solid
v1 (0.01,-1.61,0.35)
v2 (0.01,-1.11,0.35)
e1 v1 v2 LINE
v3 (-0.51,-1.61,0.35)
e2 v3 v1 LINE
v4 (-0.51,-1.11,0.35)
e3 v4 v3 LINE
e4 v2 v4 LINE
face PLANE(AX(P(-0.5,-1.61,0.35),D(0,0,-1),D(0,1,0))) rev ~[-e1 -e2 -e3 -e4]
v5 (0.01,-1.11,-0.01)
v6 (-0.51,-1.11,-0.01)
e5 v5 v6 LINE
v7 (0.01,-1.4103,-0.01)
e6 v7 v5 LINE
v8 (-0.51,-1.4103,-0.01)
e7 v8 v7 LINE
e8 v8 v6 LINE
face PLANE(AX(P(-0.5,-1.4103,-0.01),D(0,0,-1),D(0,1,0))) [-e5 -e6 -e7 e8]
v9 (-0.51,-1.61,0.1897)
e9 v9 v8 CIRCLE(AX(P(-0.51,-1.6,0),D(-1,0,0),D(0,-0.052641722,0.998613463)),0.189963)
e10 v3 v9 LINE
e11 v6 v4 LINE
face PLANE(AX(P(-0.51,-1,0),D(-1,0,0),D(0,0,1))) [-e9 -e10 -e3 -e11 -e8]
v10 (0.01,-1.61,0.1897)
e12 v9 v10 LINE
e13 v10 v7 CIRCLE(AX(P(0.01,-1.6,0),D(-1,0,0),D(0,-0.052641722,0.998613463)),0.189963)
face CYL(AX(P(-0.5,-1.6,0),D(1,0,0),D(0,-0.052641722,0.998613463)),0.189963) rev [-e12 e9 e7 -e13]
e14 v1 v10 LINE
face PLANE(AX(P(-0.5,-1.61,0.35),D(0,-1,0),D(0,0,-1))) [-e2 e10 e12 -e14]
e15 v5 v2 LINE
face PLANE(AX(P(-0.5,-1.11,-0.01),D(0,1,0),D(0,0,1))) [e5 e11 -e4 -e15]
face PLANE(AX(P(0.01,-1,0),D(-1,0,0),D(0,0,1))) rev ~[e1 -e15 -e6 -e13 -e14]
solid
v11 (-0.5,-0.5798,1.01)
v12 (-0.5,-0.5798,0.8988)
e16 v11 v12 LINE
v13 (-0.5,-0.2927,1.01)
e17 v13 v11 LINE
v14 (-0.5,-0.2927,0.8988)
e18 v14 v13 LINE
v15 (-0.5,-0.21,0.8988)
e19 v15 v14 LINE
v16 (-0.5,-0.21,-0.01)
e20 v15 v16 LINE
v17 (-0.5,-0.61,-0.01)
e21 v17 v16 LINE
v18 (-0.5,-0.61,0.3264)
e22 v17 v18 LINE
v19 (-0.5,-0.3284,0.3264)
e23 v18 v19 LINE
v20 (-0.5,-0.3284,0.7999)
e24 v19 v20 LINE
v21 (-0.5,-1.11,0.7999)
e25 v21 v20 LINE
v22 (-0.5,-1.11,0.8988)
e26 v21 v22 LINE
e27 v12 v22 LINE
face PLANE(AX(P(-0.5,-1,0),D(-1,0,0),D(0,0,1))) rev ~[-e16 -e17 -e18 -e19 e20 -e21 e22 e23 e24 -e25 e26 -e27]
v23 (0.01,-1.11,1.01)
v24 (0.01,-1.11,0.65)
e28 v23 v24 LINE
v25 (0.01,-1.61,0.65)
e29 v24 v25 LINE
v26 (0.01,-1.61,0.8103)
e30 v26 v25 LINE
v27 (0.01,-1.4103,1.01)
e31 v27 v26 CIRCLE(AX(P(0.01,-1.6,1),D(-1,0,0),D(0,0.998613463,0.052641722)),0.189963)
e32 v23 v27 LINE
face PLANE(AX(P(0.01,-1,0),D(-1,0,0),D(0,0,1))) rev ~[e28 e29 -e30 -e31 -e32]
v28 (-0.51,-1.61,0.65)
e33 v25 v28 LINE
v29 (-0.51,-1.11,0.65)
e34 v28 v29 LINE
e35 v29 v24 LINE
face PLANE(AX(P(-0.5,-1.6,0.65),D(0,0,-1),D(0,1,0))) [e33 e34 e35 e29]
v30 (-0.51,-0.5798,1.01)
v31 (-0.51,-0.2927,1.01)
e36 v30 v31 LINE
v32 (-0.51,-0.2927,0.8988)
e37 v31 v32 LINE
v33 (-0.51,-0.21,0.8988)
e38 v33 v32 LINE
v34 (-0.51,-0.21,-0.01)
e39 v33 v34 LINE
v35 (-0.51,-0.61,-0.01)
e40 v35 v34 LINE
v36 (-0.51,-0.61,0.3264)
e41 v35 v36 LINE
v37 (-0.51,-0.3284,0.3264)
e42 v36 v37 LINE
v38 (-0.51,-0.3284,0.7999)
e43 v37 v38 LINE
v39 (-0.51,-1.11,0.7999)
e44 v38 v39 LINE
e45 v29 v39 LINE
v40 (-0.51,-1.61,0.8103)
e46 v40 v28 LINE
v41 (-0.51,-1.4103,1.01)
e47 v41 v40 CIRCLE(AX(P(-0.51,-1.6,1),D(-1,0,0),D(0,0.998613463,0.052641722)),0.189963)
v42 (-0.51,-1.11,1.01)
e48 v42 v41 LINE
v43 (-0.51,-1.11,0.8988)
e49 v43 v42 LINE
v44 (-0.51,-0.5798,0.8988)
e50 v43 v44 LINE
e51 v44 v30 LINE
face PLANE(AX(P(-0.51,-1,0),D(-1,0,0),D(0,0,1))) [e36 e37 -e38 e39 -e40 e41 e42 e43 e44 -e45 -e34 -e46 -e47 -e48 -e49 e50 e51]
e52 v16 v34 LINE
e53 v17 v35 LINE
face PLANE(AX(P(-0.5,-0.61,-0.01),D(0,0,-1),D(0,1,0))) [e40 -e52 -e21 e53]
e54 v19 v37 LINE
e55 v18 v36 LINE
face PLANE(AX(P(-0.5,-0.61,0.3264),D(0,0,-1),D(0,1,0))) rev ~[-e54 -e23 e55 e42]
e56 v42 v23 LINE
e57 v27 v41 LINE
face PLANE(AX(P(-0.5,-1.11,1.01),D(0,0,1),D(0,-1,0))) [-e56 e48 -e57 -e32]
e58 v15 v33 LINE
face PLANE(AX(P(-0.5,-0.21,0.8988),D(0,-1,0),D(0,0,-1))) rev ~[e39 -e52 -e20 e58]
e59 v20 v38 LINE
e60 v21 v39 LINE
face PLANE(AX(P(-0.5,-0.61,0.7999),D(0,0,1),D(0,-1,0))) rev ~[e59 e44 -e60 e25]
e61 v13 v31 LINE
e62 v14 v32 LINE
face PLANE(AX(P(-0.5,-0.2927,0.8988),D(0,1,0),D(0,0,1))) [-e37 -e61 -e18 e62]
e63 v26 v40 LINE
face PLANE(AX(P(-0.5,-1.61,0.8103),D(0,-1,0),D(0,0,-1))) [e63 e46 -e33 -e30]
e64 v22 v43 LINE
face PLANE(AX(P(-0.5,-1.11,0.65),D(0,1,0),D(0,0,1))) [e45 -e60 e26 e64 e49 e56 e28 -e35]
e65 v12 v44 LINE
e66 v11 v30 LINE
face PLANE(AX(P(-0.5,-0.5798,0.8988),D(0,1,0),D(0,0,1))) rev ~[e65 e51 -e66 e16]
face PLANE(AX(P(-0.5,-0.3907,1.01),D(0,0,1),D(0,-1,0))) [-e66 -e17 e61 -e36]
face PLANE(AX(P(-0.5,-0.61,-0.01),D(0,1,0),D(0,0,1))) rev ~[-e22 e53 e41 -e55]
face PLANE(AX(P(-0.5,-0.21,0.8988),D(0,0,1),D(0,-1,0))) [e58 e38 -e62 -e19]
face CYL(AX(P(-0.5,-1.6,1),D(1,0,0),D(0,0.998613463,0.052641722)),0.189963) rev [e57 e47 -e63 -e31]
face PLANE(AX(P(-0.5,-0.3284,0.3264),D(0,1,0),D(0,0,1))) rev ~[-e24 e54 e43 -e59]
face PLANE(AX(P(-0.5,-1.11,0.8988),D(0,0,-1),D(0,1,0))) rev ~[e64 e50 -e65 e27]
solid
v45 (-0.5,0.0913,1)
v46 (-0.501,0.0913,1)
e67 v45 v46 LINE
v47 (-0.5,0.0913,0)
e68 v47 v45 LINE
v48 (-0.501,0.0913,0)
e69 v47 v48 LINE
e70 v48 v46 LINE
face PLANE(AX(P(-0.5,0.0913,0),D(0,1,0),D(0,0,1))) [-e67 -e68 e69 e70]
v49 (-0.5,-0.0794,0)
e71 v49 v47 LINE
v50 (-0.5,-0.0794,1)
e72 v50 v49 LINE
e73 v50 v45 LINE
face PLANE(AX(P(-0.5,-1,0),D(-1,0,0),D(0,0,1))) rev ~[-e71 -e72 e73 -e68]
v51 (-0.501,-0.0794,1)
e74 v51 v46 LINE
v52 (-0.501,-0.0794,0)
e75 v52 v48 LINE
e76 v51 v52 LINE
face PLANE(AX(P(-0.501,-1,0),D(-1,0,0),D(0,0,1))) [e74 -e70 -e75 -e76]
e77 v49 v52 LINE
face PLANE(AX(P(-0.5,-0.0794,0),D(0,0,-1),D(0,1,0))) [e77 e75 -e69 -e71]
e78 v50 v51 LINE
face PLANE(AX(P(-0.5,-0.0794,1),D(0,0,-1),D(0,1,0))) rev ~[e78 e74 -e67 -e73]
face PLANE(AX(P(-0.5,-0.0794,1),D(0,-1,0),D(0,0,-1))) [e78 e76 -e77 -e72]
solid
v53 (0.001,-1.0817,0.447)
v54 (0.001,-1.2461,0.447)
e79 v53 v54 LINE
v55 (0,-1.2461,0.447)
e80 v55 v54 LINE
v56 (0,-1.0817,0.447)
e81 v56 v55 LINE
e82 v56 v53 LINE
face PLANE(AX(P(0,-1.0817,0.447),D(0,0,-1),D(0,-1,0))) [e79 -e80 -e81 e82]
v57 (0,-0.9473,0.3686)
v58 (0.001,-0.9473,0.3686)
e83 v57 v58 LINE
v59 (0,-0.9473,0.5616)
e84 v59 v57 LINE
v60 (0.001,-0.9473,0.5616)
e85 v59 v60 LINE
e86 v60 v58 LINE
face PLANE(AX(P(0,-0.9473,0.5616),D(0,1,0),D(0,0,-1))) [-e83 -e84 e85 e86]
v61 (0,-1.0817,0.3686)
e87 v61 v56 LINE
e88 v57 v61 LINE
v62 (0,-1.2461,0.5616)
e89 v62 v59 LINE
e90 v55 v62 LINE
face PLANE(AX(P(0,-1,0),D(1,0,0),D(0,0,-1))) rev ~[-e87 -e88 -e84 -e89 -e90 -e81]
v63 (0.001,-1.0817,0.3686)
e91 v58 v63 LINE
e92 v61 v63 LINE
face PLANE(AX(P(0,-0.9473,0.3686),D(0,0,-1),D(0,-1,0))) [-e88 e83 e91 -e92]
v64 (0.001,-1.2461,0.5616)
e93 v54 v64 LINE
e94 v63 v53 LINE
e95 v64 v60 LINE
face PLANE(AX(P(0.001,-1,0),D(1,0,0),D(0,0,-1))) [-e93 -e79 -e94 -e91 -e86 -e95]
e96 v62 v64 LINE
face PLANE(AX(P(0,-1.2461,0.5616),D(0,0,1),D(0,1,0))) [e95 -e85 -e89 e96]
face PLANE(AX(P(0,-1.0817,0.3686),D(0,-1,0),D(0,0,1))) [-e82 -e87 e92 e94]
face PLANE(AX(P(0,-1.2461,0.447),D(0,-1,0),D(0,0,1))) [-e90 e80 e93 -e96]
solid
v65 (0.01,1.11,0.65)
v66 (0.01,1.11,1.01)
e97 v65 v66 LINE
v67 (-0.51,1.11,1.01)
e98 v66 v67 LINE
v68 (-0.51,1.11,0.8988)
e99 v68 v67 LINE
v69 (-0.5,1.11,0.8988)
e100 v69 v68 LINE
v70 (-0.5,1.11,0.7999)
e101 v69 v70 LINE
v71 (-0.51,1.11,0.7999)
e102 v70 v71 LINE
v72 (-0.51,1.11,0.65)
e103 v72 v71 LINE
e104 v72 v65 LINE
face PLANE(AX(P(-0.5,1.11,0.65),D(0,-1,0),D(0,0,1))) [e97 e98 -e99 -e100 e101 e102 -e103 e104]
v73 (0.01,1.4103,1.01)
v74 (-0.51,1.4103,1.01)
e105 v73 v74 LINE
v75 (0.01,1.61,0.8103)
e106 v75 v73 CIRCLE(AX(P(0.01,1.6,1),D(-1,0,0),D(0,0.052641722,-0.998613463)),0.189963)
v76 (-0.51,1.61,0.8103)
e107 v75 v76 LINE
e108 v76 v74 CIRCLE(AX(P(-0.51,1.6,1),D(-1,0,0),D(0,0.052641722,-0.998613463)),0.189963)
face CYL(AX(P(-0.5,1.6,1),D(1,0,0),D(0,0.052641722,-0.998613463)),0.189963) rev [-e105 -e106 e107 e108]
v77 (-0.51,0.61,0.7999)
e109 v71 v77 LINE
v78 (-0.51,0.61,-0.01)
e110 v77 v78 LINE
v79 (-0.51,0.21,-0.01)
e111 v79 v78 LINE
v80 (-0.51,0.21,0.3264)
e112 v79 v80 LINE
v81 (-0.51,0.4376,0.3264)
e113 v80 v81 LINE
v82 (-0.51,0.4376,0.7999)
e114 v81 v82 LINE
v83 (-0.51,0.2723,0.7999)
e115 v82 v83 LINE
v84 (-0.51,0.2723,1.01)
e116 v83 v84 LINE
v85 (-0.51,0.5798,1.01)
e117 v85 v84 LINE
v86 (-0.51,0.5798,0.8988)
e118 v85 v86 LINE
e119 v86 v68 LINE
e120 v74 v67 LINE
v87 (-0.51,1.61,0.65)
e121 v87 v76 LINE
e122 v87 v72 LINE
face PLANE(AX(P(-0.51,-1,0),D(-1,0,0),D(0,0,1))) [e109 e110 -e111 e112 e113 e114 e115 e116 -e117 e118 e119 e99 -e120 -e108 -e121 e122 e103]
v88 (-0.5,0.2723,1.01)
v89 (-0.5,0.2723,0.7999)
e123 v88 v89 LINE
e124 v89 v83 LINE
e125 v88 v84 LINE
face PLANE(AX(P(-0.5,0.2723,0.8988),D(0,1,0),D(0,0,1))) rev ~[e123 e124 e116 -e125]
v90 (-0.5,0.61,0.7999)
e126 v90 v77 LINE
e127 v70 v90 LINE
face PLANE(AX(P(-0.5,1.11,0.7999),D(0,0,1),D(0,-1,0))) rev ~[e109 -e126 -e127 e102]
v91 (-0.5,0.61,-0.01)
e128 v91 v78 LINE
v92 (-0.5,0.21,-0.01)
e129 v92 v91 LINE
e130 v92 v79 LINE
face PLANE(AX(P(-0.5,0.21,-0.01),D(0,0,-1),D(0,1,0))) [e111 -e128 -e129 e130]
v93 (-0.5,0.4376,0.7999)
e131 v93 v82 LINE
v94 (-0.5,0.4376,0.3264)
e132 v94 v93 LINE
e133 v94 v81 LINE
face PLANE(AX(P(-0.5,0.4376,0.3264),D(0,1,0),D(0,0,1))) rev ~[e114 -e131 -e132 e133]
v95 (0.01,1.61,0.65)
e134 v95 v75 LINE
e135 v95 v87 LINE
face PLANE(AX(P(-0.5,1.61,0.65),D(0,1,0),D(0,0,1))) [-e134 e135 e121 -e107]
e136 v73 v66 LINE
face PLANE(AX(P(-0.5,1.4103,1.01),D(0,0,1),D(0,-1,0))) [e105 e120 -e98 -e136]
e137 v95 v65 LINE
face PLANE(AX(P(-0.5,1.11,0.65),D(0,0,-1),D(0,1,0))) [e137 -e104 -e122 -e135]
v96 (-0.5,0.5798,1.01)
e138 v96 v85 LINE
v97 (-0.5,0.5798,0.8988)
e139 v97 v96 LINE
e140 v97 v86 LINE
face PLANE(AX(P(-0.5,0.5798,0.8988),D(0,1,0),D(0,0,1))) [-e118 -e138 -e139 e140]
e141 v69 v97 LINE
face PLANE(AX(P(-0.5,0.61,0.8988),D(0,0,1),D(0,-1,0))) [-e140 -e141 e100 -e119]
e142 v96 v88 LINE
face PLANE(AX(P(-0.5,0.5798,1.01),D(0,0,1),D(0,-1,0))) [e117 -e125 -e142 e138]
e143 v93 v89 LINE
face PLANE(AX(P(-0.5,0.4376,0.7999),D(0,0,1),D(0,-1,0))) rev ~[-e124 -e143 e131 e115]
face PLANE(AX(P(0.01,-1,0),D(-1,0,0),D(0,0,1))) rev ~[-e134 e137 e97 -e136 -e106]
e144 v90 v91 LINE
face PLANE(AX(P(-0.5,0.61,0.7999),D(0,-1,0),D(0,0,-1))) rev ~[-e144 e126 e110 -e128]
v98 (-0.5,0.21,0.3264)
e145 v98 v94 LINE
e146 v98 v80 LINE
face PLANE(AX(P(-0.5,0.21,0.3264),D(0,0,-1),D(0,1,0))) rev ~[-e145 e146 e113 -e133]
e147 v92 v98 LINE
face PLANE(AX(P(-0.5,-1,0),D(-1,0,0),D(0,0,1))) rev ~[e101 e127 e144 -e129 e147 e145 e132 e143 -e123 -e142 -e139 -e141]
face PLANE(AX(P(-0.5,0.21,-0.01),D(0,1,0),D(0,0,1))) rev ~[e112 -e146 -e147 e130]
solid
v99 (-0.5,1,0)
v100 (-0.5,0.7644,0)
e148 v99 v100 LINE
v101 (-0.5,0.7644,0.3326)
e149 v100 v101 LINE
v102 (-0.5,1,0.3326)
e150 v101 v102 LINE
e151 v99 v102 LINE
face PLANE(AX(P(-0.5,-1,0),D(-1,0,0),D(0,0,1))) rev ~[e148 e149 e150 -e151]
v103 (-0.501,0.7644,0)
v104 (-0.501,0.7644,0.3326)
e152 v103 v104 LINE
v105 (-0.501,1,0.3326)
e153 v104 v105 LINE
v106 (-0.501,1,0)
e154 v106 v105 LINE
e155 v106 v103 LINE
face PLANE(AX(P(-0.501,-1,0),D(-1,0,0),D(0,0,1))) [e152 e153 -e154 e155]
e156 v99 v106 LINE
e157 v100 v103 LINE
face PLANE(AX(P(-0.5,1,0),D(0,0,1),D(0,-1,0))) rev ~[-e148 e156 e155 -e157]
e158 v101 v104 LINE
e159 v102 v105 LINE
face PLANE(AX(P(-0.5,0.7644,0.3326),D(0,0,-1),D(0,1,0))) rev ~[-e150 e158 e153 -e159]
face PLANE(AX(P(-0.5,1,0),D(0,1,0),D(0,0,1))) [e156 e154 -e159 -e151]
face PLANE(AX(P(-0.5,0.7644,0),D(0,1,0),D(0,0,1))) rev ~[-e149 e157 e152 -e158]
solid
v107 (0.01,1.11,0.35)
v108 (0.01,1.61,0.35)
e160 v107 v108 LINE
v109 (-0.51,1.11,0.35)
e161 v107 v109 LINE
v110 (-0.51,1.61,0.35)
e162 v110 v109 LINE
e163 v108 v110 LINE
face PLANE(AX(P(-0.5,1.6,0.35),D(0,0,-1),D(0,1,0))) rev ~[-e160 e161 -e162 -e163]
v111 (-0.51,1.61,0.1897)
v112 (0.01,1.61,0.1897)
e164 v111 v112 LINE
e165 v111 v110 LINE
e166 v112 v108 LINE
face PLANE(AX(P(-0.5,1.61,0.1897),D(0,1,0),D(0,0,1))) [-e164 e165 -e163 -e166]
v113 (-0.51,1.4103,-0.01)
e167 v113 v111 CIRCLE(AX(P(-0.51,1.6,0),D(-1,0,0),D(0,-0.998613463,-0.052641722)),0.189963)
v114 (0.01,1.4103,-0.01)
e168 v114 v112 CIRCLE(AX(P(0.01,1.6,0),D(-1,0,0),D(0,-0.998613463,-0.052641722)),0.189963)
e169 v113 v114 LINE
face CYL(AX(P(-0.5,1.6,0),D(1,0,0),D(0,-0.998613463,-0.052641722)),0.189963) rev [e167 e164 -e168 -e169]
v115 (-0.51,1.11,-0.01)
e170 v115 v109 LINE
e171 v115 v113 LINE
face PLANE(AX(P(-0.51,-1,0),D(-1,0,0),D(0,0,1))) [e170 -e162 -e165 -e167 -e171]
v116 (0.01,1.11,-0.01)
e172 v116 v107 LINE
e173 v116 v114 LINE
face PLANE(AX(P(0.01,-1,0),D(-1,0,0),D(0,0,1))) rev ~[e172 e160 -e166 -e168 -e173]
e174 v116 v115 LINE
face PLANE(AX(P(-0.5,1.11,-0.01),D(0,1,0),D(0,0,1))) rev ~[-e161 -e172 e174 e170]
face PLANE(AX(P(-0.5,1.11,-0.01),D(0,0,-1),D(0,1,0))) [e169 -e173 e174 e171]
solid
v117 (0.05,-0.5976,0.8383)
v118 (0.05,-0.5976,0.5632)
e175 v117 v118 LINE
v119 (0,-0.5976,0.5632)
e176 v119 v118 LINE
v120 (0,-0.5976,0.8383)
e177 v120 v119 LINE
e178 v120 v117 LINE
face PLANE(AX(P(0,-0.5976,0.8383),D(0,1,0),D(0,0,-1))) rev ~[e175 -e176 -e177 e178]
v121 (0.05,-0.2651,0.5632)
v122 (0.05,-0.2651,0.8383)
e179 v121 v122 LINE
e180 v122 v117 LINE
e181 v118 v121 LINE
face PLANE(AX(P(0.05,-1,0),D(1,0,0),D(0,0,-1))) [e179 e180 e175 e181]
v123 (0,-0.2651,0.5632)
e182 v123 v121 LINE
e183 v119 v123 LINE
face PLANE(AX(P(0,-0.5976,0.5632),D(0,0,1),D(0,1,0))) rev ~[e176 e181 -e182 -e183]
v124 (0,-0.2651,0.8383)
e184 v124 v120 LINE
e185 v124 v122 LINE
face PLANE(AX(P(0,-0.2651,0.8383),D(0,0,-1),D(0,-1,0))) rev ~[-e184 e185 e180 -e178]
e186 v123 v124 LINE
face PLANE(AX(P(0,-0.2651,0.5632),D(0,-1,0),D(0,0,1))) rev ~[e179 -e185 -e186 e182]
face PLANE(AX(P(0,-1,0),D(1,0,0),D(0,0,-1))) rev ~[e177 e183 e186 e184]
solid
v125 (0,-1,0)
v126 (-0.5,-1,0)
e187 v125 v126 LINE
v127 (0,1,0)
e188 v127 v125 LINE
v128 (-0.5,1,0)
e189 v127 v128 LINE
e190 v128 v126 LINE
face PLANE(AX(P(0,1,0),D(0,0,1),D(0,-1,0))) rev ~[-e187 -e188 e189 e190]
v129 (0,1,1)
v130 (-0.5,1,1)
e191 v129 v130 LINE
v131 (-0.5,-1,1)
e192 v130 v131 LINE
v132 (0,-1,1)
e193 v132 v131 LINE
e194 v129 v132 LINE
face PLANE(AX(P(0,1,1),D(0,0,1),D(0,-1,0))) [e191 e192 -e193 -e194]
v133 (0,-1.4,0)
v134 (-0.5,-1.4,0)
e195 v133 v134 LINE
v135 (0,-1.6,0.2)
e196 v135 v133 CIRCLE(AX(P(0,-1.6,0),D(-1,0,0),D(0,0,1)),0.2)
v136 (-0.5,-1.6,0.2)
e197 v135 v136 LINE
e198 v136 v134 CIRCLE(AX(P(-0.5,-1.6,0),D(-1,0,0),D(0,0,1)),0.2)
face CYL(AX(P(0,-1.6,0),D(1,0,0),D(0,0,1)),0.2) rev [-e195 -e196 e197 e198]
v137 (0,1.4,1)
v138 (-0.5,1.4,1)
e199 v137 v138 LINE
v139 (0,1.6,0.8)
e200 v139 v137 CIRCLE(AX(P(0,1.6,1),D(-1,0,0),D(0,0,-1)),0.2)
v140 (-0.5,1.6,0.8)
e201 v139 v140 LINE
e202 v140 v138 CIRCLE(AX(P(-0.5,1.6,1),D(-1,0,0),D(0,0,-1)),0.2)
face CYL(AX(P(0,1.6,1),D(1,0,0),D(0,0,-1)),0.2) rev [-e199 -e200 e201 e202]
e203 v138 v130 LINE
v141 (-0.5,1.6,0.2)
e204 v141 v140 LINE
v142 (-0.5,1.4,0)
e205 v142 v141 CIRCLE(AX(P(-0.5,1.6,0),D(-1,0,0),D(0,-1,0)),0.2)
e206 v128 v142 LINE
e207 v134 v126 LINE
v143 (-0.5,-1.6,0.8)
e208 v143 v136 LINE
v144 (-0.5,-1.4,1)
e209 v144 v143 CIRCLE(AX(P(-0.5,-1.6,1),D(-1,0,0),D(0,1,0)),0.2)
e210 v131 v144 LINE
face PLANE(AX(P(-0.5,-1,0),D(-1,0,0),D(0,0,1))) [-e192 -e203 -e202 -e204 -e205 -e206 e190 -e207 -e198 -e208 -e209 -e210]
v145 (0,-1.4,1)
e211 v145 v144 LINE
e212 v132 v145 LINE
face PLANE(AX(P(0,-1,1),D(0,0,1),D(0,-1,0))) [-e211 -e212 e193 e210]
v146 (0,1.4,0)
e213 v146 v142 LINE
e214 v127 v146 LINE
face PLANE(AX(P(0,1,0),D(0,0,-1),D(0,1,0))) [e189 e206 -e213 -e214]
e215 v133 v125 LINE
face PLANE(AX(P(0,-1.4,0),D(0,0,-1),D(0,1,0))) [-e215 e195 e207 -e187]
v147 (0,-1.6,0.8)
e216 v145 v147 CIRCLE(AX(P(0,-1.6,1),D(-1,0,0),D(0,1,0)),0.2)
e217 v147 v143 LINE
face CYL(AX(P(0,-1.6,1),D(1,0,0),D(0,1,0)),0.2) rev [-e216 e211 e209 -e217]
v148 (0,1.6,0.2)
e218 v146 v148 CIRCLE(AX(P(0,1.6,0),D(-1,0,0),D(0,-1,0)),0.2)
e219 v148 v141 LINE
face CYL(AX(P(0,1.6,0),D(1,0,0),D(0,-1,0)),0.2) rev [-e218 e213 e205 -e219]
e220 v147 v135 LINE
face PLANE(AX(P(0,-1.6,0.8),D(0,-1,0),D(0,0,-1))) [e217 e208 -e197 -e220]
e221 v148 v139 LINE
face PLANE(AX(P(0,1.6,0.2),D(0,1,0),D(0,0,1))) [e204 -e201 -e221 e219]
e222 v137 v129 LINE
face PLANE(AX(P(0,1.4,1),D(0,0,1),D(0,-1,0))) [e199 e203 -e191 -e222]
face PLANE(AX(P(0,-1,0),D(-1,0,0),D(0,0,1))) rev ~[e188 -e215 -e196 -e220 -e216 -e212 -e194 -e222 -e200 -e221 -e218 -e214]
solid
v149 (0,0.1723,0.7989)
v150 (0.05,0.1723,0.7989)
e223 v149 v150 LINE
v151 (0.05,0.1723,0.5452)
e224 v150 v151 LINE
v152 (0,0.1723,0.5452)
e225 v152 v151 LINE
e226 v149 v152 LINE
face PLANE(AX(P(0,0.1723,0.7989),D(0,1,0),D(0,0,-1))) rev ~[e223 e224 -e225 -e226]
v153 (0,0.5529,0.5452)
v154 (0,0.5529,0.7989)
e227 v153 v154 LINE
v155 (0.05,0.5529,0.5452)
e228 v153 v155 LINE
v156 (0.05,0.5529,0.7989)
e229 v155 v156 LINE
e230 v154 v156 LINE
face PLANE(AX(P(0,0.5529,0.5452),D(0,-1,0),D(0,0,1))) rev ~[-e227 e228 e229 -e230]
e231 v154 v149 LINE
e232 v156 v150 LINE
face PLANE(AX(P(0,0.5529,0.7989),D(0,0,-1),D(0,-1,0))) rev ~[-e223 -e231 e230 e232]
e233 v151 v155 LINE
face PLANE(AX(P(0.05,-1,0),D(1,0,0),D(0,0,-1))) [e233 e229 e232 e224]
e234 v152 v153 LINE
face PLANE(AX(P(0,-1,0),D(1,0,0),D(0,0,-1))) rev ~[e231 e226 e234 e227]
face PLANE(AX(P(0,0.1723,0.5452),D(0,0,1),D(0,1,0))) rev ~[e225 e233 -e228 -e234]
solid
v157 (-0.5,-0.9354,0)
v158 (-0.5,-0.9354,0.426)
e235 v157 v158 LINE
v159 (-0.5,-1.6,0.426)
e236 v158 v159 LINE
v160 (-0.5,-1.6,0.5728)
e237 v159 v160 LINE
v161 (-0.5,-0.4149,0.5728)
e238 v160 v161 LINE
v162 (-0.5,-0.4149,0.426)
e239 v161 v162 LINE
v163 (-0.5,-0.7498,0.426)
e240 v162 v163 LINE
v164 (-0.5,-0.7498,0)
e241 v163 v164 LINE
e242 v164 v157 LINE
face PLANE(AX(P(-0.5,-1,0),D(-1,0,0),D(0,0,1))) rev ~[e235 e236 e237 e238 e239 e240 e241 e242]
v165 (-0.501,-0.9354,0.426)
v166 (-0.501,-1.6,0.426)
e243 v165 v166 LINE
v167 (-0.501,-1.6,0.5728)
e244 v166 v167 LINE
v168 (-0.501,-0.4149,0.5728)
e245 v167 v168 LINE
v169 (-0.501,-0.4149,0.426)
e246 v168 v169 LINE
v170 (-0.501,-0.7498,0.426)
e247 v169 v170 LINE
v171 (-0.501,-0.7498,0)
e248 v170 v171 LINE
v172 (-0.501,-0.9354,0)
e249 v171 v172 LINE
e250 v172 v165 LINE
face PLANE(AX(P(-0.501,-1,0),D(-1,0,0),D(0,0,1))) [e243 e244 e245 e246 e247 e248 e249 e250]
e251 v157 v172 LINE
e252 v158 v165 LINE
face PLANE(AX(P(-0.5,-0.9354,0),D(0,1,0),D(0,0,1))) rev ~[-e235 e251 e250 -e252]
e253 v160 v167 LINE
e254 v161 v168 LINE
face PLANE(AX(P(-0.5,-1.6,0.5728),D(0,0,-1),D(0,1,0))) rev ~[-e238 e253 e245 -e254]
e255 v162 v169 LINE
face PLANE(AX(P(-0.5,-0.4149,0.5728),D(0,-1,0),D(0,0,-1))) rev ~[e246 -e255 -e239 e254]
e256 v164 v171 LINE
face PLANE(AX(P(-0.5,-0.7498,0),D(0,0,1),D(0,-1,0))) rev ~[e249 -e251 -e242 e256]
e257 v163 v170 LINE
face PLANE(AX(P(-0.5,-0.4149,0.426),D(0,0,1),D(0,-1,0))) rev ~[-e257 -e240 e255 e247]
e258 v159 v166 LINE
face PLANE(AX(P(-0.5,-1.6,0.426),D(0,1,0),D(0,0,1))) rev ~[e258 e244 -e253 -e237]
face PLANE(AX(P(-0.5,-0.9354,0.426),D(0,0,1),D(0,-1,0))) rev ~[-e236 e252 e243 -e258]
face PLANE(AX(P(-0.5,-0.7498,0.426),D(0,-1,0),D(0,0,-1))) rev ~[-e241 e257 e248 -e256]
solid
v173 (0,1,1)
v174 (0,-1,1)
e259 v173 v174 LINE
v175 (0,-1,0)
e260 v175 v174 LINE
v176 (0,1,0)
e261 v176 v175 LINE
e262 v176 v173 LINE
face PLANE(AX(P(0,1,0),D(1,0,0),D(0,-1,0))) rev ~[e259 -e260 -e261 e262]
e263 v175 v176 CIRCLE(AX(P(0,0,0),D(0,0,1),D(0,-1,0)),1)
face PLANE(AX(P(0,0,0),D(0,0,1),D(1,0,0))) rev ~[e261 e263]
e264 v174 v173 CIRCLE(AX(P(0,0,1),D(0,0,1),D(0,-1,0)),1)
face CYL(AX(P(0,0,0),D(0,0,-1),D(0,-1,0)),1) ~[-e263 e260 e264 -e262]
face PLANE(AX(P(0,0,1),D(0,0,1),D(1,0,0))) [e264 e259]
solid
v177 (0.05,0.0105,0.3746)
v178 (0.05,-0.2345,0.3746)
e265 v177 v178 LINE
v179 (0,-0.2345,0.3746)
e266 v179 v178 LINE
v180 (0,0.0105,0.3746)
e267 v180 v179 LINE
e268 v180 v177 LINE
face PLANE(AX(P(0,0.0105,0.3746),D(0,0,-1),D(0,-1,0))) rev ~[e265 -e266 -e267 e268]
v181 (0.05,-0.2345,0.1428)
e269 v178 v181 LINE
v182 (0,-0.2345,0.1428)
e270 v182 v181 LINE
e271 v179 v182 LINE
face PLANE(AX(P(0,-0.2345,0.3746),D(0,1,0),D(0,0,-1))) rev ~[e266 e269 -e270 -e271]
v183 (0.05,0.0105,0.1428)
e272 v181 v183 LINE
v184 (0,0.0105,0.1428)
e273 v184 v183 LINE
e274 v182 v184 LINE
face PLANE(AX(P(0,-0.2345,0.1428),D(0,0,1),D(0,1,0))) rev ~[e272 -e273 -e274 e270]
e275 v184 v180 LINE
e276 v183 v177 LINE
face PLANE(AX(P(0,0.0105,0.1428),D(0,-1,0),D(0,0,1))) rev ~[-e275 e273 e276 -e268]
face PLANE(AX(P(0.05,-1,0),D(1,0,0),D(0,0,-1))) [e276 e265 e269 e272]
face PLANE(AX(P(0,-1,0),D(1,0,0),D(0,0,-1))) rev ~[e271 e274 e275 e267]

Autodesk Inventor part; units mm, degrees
ref_plane "YZ Plane" through (0, 0, 0) normal (1, 0, 0) x (0, 1, 0)
ref_plane "XZ Plane" through (0, 0, 0) normal (0, 1, 0) x (-1, 0, 0)
ref_plane "XY Plane" through (0, 0, 0) normal (0, 0, 1) x (1, 0, 0)
sketch "Sketch1" plane through (0, 0, 0) normal (0, 0, 1) x (1, 0, 0)
  arc A0 (0, -1) -> (0, 1) centre (0, 0) ccw
  line L0 (0, 0) -> (0, 1) construction
  line L1 (0, 0) -> (1, 0) construction
  line L2 (0, 0) -> (0, -1) construction
  line L3 (0, 1) -> (0, -1)
  dimension "d0" = 1
  dimension "d1" = 90
  dimension "d2" = 180
extrude "Extrusion1" add sketch "Sketch1" along normal blind 1
sketch "Sketch2" plane through (0, -1, 0) normal (-1, 0, 0) x (0, 0, 1)
  line L0 (0, 2.6) -> (1, 2.6)
  line L1 (1, 2.6) -> (1, -0.6)
  line L2 (1, -0.6) -> (0, -0.6)
  line L3 (0, -0.6) -> (0, 2.6)
  line L4 (0, 2) -> (0, 0) projected
  line L5 (1, 2) -> (1, 0) projected
  arc A0 (0, 2.4) -> (0.2, 2.6) centre (0, 2.6) ccw
  arc A1 (0.8, 2.6) -> (1, 2.4) centre (1, 2.6) ccw
  arc A2 (1, -0.4) -> (0.8, -0.6) centre (1, -0.6) ccw
  arc A3 (0.2, -0.6) -> (0, -0.4) centre (0, -0.6) ccw
  point P0 (0, 1)
  point P1 (1, 1)
  point P2 (1, 1)
  dimension "d5" = 3.2
  dimension "d6" = 0.2
extrude "Extrusion2" add sketch "Sketch2" along normal blind 0.5 separate body contours L0 A1 L1 A2 L2 A3 L3 A0
sketch "Sketch3" plane through (-0.5, -1, 0) normal (-1, 0, 0) x (0, 0, 1)
  line L0 (0, 2.4) -> (0, -0.4) construction
  arc A0 (0.2, -0.6) -> (0, -0.4) centre (0, -0.6) ccw projected
  line L1 (0.2, -0.6) -> (0.8, -0.6) projected
  arc A1 (1, -0.4) -> (0.8, -0.6) centre (1, -0.6) ccw projected
  line L2 (1, -0.4) -> (1, 2.4) construction
  arc A2 (0.8, 2.6) -> (1, 2.4) centre (1, 2.6) ccw projected
  line L3 (0.8, 2.6) -> (0.2, 2.6) projected
  arc A3 (0, 2.4) -> (0.2, 2.6) centre (0, 2.6) ccw projected
  line L4 (1.01, 2.4103) -> (1.01, -0.4103)
  arc A4 (1.01, -0.4103) -> (0.8103, -0.61) centre (1, -0.6) ccw
  line L5 (0.8103, -0.61) -> (0.1897, -0.61)
  arc A5 (0.1897, -0.61) -> (-0.01, -0.4103) centre (0, -0.6) ccw
  line L6 (-0.01, -0.4103) -> (-0.01, 2.4103)
  arc A6 (-0.01, 2.4103) -> (0.1897, 2.61) centre (0, 2.6) ccw
  line L7 (0.1897, 2.61) -> (0.8103, 2.61)
  arc A7 (0.8103, 2.61) -> (1.01, 2.4103) centre (1, 2.6) ccw
  line L8 (-0.01, 2.11) -> (1.01, 2.11)
  line L9 (-0.01, -0.11) -> (1.01, -0.11)
  line L10 (0.35, -0.61) -> (0.35, -0.11)
  line L11 (0.65, -0.61) -> (0.65, -0.11)
  line L12 (0.35, 2.11) -> (0.35, 2.61)
  line L13 (0.65, 2.11) -> (0.65, 2.61)
  line L14 (-0.01, 0.39) -> (1.01, 0.39)
  line L15 (1.01, 0.39) -> (1.01, 0.79)
  line L16 (1.01, 0.79) -> (-0.01, 0.79)
  line L17 (-0.01, 0.79) -> (-0.01, 0.39)
  line L18 (-0.01, 1.21) -> (1.01, 1.21)
  line L19 (1.01, 1.21) -> (1.01, 1.61)
  line L20 (1.01, 1.61) -> (-0.01, 1.61)
  line L21 (-0.01, 1.61) -> (-0.01, 1.21)
  line L22 (0.3264, 0.39) -> (0.3264, 0.6716)
  line L23 (0.3264, 0.6716) -> (1, 0.6716)
  line L24 (1, 0) -> (1, 2) projected
  line L25 (0.7999, 0.39) -> (0.7999, -0.11)
  line L26 (0.8988, -0.11) -> (0.8988, 0.39)
  line L27 (0.8988, 0.6716) -> (0.8988, 0.6093)
  line L28 (0.8988, 0.6093) -> (1.01, 0.6093)
  line L29 (0.8988, 1.21) -> (0.8988, 1.2723)
  line L30 (0.8988, 1.2723) -> (1.01, 1.2723)
  line L31 (0.8988, 0.39) -> (0.8988, 0.4202)
  line L32 (0.8988, 0.4202) -> (1.01, 0.4202)
  line L33 (0.8988, 1.61) -> (0.8988, 1.5798)
  line L34 (0.8988, 1.5798) -> (1.01, 1.5798)
  line L35 (0.8988, 1.61) -> (0.8988, 1.6766)
  line L36 (0.8988, 1.6766) -> (0.8988, 2.11)
  line L37 (0.7999, 2.11) -> (0.7999, 1.61)
  line L38 (0.3264, 1.21) -> (0.3264, 1.4376)
  line L39 (0.3264, 1.4376) -> (0.7999, 1.4376)
  line L40 (0.7999, 1.4376) -> (0.7999, 1.21)
  line L41 (0.7999, 1.2723) -> (0.8988, 1.2723)
  line L42 (0.7999, 0.39) -> (0.7999, 0.6716)
  line L43 (0.8988, 0.79) -> (0.8988, 0.7073)
  line L44 (0.8988, 0.7073) -> (1.01, 0.7073)
  dimension "d9" = 0.01
  dimension "d10" = 0.5
  dimension "d11" = 0.5
  dimension "d23" = 0.35
  dimension "d24" = 0.35
  dimension "d25" = 0.4
  dimension "d26" = 0.4
  dimension "d27" = 0.5
  dimension "d28" = 0.5
extrude "Extrusion4" add sketch "Sketch3" along normal blind 0.01 separate body contours L10 L5 A5 L6 L9 | L11 L9 L4 A4 L5 | L25 L14 L26 L9 | L6 L16 L43 L44 L24 L23 L22 L14 | L42 L23 L27 L28 L24 L32 L31 L14 | L6 L20 L33 L34 L24 L30 L41 L40 L39 L38 L18 | L23 L24 L28 L27 | L32 L24 L28 L4 | L24 L44 L4 L28 | L6 A6 L7 L12 L8 | L37 L8 L36 L35 L20 | L8 L13 L7 A7 L4 | L24 L34 L4 L30
extrude "Extrusion8" add sketch "Sketch3" against normal blind 0.51 contours L10 L5 A5 L6 L9 | L11 L9 L4 A4 L5 | L6 A6 L7 L12 L8 | L8 L13 L7 A7 L4 bodies 3
sketch "Sketch4" plane through (-0.5, -1, 0) normal (-1, 0, 0) x (0, 0, 1)
  line L0 (1, -0.4) -> (1, 2.4) projected
  line L1 (1, 0) -> (1, 2) projected
  line L2 (1, 0.9206) -> (0, 0.9206)
  line L3 (0, 0.9206) -> (0, 1.0913)
  line L4 (0, 1.0913) -> (1, 1.0913)
  line L5 (1, 1.0913) -> (1, 0.9206)
  line L6 (0, 2.4) -> (0, -0.4) projected
  line L7 (0, 0) -> (0, 2) projected
  line L8 (0, 2) -> (1, 2) projected
  line L9 (0, 1.7644) -> (0.3326, 1.7644)
  line L10 (0.3326, 1.7644) -> (0.3326, 2)
  line L11 (0.3326, 2) -> (0, 2)
  line L12 (0, 2) -> (0, 1.7644)
  line L13 (0, 2.4) -> (0, -0.4) projected
  line L14 (0, 0.0646) -> (0.5437, 0.0646)
  line L15 (0.5437, 0.0646) -> (0.5437, 0.2502)
  line L16 (0.5437, 0.2502) -> (0, 0.2502)
  line L17 (0, 0.2502) -> (0, 0.0646)
  line L18 (0.426, -0.6) -> (0.5728, -0.6)
  line L19 (0.5728, -0.6) -> (0.5728, 0.5851)
  line L20 (0.5728, 0.5851) -> (0.426, 0.5851)
  line L21 (0.426, 0.5851) -> (0.426, -0.6)
  line L22 (0.2, -0.6) -> (0.8, -0.6) projected
  point P0 (0, 1)
  point P1 (1, 1.9835)
extrude "Extrusion5" add sketch "Sketch4" along normal blind 0.001 separate body contours L2 L3 L4 L0 | L16 L21 L14 L6 | L10 L9 L6 L8 | L21 L20 L19 L18 L14 L15 L16 | L16 L15 L14 L21
sketch "Sketch5" plane through (0, -1, 0) normal (1, 0, 0) x (0, 0, -1)
  line L0 (-0.447, -0.2461) -> (-0.5616, -0.2461)
  line L1 (-0.5616, -0.2461) -> (-0.5616, 0.0527)
  line L2 (-0.5616, 0.0527) -> (-0.3686, 0.0527)
  line L3 (-0.3686, 0.0527) -> (-0.3686, -0.0817)
  line L4 (-0.3686, -0.0817) -> (-0.447, -0.0817)
  line L5 (-0.447, -0.0817) -> (-0.447, -0.2461)
extrude "Extrusion6" add sketch "Sketch5" along normal blind 0.001 bodies 4
sketch "Sketch6" plane through (0, -1, 0) normal (1, 0, 0) x (0, 0, -1)
  line L0 (-0.8383, 0.4024) -> (-0.5632, 0.4024)
  line L1 (-0.5632, 0.4024) -> (-0.5632, 0.7349)
  line L2 (-0.5632, 0.7349) -> (-0.8383, 0.7349)
  line L3 (-0.8383, 0.7349) -> (-0.8383, 0.4024)
  line L4 (-0.7989, 1.1723) -> (-0.5452, 1.1723)
  line L5 (-0.5452, 1.1723) -> (-0.5452, 1.5529)
  line L6 (-0.5452, 1.5529) -> (-0.7989, 1.5529)
  line L7 (-0.7989, 1.5529) -> (-0.7989, 1.1723)
  line L8 (-0.3746, 0.7655) -> (-0.1428, 0.7655)
  line L9 (-0.1428, 0.7655) -> (-0.1428, 1.0105)
  line L10 (-0.1428, 1.0105) -> (-0.3746, 1.0105)
  line L11 (-0.3746, 1.0105) -> (-0.3746, 0.7655)
  point P0 (0, 1)
extrude "Extrusion7" add sketch "Sketch6" along normal blind 0.05 separate body
equation "\"d11\" = d10"
equation "\"d24\" = d23"
equation "\"d26\" = d25"
properties part number "LED 3216 RA"
